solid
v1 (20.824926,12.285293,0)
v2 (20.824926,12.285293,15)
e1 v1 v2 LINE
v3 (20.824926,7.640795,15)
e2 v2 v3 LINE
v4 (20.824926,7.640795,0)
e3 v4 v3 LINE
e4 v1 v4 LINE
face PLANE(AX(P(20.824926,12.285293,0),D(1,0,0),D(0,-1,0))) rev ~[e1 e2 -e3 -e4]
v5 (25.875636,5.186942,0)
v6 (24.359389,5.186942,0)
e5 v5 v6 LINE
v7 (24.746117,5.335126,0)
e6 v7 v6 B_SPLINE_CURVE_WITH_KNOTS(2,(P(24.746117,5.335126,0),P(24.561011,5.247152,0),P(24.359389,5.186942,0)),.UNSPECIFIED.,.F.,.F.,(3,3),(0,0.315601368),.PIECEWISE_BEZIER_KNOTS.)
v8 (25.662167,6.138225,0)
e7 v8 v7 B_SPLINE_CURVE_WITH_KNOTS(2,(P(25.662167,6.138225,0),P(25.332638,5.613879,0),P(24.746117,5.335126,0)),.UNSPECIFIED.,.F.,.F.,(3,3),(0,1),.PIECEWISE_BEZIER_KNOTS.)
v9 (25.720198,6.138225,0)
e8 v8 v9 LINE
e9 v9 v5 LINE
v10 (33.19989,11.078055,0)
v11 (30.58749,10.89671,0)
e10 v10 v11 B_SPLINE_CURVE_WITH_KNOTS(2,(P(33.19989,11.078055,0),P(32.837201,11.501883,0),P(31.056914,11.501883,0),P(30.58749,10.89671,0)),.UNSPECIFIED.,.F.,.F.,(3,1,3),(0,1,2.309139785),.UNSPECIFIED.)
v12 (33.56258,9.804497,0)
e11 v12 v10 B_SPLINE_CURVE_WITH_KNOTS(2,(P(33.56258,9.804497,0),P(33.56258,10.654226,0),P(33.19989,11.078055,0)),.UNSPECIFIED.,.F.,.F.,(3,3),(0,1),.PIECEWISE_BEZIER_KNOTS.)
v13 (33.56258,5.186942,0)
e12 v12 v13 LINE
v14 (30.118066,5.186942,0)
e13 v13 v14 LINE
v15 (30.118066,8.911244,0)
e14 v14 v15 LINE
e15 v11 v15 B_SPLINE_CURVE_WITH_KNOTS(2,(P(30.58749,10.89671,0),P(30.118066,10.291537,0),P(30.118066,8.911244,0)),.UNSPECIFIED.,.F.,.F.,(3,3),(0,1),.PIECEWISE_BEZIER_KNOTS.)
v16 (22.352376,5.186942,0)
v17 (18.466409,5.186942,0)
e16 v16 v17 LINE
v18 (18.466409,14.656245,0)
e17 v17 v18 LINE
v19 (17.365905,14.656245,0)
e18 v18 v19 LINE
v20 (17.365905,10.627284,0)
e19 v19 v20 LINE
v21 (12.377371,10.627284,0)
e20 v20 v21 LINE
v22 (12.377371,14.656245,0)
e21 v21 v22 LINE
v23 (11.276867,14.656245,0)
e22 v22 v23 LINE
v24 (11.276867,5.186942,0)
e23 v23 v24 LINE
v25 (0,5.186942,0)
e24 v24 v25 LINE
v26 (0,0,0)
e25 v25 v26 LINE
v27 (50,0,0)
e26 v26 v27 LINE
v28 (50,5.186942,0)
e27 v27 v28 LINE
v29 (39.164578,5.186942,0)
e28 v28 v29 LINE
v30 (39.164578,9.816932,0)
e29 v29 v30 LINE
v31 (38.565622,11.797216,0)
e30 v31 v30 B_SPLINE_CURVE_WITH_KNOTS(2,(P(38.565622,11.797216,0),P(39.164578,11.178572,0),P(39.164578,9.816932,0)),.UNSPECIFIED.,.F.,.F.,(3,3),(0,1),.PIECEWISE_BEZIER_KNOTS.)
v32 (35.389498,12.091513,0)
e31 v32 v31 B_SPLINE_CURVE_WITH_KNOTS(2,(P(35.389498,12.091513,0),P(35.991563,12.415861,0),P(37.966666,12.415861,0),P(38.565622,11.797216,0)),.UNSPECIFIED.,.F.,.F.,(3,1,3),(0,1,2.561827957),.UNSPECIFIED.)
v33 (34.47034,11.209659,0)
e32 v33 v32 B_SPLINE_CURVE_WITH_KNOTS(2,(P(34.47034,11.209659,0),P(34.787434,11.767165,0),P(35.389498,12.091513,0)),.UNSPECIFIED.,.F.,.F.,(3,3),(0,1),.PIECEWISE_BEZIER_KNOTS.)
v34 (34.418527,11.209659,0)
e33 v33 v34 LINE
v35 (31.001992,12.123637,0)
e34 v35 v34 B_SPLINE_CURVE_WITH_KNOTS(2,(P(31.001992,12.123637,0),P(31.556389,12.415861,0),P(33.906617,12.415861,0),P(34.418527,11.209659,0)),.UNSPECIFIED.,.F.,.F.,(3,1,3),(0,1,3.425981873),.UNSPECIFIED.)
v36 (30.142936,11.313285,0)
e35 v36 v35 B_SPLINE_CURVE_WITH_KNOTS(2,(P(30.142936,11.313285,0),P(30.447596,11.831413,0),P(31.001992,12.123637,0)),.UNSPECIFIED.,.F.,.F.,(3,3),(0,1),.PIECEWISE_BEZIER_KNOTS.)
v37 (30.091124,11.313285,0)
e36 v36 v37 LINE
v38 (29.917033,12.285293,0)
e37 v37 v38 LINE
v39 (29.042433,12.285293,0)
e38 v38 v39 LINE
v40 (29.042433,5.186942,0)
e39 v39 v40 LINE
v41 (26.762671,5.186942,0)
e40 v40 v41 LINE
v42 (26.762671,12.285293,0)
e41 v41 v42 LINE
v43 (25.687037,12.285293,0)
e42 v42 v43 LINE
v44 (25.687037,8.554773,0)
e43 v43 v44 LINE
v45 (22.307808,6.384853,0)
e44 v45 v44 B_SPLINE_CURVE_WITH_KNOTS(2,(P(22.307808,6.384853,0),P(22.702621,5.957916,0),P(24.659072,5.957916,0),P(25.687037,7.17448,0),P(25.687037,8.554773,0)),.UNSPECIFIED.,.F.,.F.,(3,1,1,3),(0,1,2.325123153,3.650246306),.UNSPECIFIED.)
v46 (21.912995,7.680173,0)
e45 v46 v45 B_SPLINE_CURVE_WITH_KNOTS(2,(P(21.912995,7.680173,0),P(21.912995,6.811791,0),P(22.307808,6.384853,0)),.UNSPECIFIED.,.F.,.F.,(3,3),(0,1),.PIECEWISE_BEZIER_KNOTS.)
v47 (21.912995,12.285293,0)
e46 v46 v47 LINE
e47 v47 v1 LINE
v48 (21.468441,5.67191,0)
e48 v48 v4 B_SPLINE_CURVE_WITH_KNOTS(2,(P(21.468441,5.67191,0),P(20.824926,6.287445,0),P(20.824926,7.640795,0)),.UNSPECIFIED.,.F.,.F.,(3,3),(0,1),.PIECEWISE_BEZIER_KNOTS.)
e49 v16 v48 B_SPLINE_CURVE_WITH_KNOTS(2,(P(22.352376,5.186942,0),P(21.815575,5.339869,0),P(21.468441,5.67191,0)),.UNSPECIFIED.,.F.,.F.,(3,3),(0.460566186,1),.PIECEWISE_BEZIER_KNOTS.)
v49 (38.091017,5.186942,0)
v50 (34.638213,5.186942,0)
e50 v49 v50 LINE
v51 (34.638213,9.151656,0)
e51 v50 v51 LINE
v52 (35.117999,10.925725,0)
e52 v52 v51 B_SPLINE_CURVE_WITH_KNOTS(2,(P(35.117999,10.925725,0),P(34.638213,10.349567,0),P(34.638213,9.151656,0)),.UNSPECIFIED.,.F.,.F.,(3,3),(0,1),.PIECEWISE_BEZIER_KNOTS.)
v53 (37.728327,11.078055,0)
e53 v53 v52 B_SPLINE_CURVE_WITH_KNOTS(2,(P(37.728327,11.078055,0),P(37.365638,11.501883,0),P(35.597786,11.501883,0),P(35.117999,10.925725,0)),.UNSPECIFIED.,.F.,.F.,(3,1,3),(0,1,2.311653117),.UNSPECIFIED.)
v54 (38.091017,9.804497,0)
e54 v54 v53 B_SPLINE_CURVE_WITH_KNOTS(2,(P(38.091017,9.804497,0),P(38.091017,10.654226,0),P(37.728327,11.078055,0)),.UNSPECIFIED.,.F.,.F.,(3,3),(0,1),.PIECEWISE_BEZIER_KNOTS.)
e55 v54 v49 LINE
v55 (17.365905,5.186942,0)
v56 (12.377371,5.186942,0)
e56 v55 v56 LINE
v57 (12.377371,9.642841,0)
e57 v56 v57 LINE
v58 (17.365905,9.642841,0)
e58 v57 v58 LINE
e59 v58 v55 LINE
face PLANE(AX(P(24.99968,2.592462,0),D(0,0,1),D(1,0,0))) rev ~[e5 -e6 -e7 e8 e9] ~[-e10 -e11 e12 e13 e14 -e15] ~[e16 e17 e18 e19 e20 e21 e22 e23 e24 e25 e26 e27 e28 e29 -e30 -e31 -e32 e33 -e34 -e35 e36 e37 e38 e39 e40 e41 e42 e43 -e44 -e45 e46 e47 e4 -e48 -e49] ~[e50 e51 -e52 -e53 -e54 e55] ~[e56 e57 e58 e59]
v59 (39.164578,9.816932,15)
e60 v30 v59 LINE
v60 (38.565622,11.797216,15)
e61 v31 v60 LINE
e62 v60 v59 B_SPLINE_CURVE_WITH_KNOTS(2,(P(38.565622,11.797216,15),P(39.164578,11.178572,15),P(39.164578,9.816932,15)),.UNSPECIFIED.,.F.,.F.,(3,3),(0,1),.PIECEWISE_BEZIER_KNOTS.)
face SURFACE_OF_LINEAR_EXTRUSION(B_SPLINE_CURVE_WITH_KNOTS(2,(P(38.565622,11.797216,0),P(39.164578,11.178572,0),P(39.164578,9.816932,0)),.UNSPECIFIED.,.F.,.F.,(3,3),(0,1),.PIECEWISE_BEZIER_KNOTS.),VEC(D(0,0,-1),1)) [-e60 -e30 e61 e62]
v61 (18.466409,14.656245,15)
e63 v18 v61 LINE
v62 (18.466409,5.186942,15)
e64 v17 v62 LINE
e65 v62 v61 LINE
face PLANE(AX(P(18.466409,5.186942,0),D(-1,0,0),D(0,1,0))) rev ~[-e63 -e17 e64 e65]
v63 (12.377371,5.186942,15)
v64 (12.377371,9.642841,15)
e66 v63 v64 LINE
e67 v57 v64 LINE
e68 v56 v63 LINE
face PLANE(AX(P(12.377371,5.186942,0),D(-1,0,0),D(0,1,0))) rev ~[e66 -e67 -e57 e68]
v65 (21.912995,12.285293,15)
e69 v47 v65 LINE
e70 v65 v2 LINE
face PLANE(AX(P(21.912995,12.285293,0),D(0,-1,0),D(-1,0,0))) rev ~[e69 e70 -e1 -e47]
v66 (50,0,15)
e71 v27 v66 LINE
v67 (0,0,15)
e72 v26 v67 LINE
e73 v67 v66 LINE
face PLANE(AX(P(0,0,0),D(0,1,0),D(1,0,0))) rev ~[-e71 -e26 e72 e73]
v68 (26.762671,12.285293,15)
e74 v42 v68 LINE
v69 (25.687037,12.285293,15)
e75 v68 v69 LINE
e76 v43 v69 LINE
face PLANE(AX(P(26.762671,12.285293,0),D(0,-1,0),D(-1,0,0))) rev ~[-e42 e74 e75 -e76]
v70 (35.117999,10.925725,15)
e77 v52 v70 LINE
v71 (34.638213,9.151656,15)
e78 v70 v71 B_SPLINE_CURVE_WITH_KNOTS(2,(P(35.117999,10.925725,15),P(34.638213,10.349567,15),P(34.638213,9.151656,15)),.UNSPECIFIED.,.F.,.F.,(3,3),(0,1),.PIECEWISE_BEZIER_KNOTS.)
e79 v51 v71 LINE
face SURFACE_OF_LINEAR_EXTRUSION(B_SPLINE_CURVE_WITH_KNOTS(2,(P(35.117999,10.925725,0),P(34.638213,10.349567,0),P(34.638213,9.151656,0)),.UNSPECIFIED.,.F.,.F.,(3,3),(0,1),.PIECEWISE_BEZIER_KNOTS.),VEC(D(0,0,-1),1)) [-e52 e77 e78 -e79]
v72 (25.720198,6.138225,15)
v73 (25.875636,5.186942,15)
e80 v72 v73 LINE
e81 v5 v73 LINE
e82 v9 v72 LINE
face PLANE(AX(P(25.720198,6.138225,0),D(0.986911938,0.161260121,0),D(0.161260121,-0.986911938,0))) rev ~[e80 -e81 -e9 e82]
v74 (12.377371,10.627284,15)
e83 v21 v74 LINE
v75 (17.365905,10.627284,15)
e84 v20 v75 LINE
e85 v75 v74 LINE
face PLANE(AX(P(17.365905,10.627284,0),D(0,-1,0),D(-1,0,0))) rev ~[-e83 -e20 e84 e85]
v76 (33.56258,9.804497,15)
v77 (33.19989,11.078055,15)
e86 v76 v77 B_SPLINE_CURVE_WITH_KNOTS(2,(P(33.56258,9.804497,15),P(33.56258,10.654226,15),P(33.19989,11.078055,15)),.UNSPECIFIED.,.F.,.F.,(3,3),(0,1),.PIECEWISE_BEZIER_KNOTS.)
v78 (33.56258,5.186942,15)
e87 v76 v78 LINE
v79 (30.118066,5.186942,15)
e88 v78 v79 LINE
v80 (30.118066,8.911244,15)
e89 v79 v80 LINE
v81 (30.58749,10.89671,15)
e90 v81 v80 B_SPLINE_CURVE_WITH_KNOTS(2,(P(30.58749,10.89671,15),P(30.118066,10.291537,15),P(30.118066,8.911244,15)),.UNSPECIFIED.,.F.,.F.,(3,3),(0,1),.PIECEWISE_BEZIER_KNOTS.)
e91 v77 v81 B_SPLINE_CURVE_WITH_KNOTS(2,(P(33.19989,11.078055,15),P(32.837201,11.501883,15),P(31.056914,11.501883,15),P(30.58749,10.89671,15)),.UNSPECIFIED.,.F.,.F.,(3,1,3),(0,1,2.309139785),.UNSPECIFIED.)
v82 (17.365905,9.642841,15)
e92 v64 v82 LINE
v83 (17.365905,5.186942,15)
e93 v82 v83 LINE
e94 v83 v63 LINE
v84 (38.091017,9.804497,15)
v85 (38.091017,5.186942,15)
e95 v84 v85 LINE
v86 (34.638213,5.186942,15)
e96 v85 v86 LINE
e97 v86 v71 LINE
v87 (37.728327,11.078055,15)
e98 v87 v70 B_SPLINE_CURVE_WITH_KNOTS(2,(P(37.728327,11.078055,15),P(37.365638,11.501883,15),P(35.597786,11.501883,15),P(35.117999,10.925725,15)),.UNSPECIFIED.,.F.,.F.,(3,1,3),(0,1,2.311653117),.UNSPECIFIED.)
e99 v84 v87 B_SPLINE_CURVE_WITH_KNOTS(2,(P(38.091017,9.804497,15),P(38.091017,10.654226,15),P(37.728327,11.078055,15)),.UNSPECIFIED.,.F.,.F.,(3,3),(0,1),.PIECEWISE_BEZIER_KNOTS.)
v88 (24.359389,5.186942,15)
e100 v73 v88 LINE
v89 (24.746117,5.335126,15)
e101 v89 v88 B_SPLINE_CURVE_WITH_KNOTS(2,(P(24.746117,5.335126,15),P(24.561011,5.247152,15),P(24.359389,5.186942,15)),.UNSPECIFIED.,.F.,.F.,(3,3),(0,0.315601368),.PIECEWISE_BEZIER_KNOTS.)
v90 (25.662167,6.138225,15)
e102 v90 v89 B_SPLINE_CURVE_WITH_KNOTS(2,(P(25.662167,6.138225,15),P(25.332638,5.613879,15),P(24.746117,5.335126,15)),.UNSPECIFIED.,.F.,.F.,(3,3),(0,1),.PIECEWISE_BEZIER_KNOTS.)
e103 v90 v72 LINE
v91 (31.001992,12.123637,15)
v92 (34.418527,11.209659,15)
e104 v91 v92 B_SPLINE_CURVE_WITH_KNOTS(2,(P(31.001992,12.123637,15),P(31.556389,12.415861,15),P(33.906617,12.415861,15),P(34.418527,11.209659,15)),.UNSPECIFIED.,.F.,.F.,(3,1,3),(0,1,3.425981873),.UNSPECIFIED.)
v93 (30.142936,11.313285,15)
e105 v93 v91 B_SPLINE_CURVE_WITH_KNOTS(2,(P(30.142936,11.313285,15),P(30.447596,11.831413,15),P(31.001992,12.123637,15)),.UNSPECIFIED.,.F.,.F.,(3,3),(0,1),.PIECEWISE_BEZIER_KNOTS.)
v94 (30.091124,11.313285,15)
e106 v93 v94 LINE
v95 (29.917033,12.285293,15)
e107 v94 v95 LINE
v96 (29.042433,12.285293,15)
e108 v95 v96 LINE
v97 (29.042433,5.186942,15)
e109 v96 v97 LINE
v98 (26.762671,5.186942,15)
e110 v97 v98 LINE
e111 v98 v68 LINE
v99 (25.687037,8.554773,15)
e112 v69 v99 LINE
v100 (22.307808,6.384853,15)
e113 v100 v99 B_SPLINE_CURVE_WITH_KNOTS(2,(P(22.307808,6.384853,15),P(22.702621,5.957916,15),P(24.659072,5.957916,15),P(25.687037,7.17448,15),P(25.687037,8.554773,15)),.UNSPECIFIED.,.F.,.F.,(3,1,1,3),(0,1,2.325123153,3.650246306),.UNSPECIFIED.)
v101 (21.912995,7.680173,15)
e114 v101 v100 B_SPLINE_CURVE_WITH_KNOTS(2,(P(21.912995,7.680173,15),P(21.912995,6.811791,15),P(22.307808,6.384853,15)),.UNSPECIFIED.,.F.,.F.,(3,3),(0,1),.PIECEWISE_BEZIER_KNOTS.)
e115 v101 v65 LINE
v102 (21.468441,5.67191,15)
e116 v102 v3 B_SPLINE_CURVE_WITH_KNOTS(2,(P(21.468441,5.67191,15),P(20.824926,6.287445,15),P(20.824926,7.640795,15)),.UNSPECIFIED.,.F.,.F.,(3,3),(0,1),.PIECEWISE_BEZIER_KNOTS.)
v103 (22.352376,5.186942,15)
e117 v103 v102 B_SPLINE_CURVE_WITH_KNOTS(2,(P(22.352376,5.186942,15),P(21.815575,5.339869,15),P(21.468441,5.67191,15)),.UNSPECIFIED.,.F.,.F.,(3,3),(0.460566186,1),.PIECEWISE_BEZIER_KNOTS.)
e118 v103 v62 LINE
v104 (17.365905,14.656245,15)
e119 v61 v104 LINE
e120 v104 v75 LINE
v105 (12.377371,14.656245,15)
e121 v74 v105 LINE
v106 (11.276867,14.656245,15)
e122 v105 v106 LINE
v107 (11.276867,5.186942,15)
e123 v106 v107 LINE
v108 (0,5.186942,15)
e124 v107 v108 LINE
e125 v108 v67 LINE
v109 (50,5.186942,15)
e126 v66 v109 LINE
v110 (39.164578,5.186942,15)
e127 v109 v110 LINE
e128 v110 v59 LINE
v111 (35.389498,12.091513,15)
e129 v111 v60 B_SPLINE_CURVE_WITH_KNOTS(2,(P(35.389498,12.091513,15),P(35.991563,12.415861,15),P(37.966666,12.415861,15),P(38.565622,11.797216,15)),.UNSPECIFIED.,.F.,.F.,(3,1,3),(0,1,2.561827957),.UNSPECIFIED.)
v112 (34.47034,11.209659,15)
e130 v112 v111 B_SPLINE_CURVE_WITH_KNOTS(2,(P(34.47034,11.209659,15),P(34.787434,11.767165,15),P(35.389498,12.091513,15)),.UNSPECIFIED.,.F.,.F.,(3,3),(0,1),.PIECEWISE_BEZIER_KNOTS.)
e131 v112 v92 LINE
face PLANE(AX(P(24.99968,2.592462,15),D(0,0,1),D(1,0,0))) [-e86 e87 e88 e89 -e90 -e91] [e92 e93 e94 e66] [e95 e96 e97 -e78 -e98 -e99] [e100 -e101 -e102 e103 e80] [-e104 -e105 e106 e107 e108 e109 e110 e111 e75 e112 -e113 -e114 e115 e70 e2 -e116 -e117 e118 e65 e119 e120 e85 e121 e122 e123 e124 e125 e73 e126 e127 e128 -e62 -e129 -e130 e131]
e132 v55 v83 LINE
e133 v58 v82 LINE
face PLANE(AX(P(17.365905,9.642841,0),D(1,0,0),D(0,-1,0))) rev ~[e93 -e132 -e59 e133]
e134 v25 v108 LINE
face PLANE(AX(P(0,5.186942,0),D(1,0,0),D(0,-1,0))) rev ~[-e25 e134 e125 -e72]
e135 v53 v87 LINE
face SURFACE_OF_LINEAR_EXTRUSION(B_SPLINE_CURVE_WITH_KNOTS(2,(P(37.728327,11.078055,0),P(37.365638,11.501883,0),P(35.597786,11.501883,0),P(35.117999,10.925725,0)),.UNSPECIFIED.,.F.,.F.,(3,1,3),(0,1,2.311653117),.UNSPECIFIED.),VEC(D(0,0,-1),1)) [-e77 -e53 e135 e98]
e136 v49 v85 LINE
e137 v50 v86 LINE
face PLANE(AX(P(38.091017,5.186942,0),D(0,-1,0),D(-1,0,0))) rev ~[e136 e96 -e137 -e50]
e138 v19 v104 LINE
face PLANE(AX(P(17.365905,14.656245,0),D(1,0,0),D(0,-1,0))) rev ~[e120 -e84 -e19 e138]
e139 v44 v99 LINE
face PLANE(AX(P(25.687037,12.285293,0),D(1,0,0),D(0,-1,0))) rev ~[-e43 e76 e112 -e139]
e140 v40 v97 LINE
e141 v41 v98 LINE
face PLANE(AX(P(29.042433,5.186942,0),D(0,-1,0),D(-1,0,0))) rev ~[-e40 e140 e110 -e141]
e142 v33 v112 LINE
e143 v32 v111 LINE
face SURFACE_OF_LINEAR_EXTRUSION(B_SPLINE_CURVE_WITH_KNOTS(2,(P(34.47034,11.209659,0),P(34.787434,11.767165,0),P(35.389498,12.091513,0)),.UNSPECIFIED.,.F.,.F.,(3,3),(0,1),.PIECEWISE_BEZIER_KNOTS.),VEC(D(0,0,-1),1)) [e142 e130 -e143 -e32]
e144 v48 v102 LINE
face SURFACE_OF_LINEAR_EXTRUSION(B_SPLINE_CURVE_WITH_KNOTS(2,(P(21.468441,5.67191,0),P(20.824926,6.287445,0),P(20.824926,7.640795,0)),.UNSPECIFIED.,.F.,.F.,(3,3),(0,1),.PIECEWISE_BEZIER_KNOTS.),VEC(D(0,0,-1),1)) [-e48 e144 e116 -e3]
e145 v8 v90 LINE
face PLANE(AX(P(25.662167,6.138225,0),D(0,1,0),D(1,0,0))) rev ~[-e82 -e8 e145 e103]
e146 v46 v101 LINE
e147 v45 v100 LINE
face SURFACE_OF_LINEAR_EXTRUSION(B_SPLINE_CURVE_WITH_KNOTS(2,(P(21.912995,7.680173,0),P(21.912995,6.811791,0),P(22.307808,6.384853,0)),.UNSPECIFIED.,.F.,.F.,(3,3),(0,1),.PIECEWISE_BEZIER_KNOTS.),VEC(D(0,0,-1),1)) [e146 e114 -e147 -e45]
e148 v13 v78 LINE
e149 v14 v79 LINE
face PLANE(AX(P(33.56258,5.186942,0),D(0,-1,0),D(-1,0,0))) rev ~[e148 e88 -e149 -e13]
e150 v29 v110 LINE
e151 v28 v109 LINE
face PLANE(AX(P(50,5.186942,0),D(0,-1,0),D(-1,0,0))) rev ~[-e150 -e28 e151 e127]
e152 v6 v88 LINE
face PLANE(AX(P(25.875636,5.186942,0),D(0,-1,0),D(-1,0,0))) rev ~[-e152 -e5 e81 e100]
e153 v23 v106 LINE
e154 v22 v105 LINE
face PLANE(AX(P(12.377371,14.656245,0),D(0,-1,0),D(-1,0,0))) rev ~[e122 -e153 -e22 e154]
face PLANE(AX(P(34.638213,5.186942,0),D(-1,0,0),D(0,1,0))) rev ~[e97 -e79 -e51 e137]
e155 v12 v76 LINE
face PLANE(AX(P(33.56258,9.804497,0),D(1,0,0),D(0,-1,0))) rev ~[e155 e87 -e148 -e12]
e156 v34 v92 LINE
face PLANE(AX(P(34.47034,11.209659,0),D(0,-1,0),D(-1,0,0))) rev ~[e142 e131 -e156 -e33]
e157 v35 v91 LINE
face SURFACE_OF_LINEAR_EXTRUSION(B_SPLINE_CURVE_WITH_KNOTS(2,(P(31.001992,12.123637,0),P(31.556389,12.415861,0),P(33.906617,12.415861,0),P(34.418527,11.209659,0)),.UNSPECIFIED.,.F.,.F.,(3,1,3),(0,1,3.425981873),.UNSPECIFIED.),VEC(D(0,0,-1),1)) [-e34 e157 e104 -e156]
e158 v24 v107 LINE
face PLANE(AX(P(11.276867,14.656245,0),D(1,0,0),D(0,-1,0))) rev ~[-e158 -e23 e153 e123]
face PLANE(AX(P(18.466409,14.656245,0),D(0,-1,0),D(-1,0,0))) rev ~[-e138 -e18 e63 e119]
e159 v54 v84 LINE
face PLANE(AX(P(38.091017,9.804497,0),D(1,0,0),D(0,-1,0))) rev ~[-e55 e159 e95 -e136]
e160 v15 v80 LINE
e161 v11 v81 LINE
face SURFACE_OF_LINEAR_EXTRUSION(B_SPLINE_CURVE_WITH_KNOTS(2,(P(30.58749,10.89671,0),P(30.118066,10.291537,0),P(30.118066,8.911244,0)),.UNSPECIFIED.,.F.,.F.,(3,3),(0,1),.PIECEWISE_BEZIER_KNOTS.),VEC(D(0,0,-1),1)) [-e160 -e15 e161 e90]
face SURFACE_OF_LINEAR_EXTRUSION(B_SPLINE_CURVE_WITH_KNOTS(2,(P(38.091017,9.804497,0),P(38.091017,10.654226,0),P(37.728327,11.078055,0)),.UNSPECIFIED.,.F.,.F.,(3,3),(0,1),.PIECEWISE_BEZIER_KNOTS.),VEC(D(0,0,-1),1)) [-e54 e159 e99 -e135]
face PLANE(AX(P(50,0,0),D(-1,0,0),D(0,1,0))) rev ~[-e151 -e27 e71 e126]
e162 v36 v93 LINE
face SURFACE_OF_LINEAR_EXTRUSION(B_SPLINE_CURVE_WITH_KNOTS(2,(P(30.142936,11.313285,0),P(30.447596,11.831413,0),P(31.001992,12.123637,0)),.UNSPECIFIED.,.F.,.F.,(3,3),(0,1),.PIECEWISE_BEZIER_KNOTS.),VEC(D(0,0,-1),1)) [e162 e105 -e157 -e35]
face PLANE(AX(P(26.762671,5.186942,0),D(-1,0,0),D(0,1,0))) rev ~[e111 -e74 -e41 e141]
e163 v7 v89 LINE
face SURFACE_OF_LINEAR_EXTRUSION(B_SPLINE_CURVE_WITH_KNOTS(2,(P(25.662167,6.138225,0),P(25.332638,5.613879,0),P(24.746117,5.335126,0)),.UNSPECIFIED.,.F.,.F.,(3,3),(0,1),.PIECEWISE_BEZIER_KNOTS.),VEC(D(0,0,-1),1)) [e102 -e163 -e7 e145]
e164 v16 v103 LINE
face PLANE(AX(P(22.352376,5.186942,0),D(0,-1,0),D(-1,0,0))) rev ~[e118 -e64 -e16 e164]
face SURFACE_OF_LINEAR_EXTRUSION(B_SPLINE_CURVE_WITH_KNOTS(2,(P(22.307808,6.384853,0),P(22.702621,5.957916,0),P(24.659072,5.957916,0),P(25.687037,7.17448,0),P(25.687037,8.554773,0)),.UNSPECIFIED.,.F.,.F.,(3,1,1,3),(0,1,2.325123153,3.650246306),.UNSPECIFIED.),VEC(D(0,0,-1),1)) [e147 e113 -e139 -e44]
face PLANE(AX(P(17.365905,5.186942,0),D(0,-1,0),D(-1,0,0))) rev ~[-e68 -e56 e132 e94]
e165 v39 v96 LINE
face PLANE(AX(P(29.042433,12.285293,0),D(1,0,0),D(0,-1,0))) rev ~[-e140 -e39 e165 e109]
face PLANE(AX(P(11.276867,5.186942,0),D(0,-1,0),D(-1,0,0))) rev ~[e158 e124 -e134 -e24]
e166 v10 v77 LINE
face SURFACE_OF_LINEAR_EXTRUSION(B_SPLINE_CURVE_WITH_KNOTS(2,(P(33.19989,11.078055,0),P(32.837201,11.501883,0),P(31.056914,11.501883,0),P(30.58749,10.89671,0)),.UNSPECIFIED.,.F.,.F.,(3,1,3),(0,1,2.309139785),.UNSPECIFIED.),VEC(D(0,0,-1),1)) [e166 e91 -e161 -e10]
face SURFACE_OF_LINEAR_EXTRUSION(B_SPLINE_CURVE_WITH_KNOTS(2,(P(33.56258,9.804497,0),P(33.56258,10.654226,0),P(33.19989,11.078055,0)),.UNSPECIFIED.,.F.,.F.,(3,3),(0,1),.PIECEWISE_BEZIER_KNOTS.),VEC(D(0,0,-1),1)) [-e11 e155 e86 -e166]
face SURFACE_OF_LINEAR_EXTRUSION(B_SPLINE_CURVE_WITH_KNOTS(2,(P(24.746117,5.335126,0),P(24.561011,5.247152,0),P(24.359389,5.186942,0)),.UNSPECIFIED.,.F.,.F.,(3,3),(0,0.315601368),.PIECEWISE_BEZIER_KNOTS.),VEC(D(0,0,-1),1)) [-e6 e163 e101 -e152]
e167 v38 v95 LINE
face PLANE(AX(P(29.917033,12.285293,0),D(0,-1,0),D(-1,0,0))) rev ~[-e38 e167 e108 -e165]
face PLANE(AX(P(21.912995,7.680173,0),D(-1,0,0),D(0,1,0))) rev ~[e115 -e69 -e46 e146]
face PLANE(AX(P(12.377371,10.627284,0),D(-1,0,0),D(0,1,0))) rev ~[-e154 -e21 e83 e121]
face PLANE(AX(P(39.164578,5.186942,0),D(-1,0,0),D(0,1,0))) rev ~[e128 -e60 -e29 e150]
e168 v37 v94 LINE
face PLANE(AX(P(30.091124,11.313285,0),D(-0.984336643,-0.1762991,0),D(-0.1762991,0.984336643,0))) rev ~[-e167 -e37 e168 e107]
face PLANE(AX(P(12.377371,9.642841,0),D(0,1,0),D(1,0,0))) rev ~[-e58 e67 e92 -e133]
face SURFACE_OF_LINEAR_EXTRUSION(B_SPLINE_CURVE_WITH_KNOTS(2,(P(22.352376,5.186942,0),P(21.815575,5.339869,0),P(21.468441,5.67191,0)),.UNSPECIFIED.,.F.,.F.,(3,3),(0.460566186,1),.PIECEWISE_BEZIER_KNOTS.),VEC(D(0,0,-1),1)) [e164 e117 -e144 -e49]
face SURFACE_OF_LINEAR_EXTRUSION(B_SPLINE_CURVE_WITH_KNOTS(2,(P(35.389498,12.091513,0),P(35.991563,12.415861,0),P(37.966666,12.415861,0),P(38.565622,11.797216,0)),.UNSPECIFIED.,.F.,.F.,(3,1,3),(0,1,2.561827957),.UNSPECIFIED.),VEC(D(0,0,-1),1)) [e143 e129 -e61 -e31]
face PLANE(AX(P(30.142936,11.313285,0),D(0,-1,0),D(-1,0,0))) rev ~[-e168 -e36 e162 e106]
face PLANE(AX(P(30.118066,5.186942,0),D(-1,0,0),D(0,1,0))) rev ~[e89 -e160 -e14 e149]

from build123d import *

# Parameters (mm, degrees)
F1_DEPTH = 15


with BuildPart() as f1:
    # F0 (on Top) → F1 (new body)
    with BuildSketch(Plane.XY):
        with BuildLine():
            Line((0, 5.1869419025), (0, 0))
            Line((0, 0), (50, 0))
            Line((50, 0), (50, 5.1869419025))
            Line((50, 5.1869419025), (39.1645775294, 5.1869419025))
            Line((39.1645775294, 5.1869419025), (38.091016748, 5.1869419025))
            Line((38.091016748, 5.1869419025), (34.6382131539, 5.1869419025))
            Line((34.6382131539, 5.1869419025), (33.5625798614, 5.1869419025))
            Line((33.5625798614, 5.1869419025), (30.1180663119, 5.1869419025))
            Line((30.1180663119, 5.1869419025), (29.0424330194, 5.1869419025))
            Line((29.0424330194, 5.1869419025), (26.7626707424, 5.1869419025))
            Line((26.7626707424, 5.1869419025), (25.8756359655, 5.1869419025))
            Line((25.8756359655, 5.1869419025), (24.3593894687, 5.1869419025))
            add(Edge.make_bspline(
                [(24.3593894687, 5.1869419025), (23.9221630132, 5.0563736994), (23.4072751728, 5.0563736994)],
                knots=[0.3156013684, 0.3156013684, 0.3156013684, 1, 1, 1], degree=2))
            add(Edge.make_bspline(
                [(23.4072751728, 5.0563736994), (22.8106948217, 5.0563736994), (22.3523760863, 5.1869419025)],
                knots=[0, 0, 0, 0.4605661865, 0.4605661865, 0.4605661865], degree=2))
            Line((22.3523760863, 5.1869419025), (18.4664085652, 5.1869419025))
            Line((18.4664085652, 5.1869419025), (17.3659051387, 5.1869419025))
            Line((17.3659051387, 5.1869419025), (12.3773707744, 5.1869419025))
            Line((12.3773707744, 5.1869419025), (11.2768673479, 5.1869419025))
            Line((11.2768673479, 5.1869419025), (0, 5.1869419025))
        make_face()
        Polygon((11.2768673479, 14.6562453968), (11.2768673479, 5.1869419025), (12.3773707744, 5.1869419025), (12.3773707744, 9.6428408985), (17.3659051387, 9.6428408985), (17.3659051387, 5.1869419025), (18.4664085652, 5.1869419025), (18.4664085652, 14.6562453968), (17.3659051387, 14.6562453968), (17.3659051387, 10.6272837), (12.3773707744, 10.6272837), (12.3773707744, 14.6562453968), align=None)
        with BuildLine():
            Line((38.091016748, 5.1869419025), (39.1645775294, 5.1869419025))
            Line((39.1645775294, 5.1869419025), (39.1645775294, 9.816931836))
            add(Edge.make_bspline(
                [(38.5656218039, 11.7972162503), (39.1645775294, 11.1785716688), (39.1645775294, 9.816931836)],
                knots=[0, 0, 0, 1, 1, 1], degree=2))
            add(Edge.make_bspline(
                [(36.7625370938, 12.4158608318), (37.9666660783, 12.4158608318), (38.5656218039, 11.7972162503)],
                knots=[0, 0, 0, 1, 1, 1], degree=2))
            add(Edge.make_bspline(
                [(35.3894984497, 12.0915128351), (35.991562942, 12.4158608318), (36.7625370938, 12.4158608318)],
                knots=[0, 0, 0, 1, 1, 1], degree=2))
            add(Edge.make_bspline(
                [(34.4703397499, 11.2096593362), (34.7874339575, 11.7671648385), (35.3894984497, 12.0915128351)],
                knots=[0, 0, 0, 1, 1, 1], degree=2))
            Line((34.4703397499, 11.2096593362), (34.4185269708, 11.2096593362))
            add(Edge.make_bspline(
                [(32.2423902519, 12.4158608318), (33.9066167141, 12.4158608318), (34.4185269708, 11.2096593362)],
                knots=[0, 0, 0, 1, 1, 1], degree=2))
            add(Edge.make_bspline(
                [(31.001992322, 12.1236367581), (31.5563890576, 12.4158608318), (32.2423902519, 12.4158608318)],
                knots=[0, 0, 0, 1, 1, 1], degree=2))
            add(Edge.make_bspline(
                [(30.1429364458, 11.3132848942), (30.4475955865, 11.8314126845), (31.001992322, 12.1236367581)],
                knots=[0, 0, 0, 1, 1, 1], degree=2))
            Line((30.1429364458, 11.3132848942), (30.0911236668, 11.3132848942))
            Line((30.0911236668, 11.3132848942), (29.9170327293, 12.2852926287))
            Line((29.9170327293, 12.2852926287), (29.0424330194, 12.2852926287))
            Line((29.0424330194, 12.2852926287), (29.0424330194, 5.1869419025))
            Line((29.0424330194, 5.1869419025), (30.1180663119, 5.1869419025))
            Line((30.1180663119, 5.1869419025), (30.1180663119, 8.9112444587))
            add(Edge.make_bspline(
                [(30.5874900899, 10.8967101509), (30.1180663119, 10.2915368919), (30.1180663119, 8.9112444587)],
                knots=[0, 0, 0, 1, 1, 1], degree=2))
            add(Edge.make_bspline(
                [(32.0662268032, 11.5018834099), (31.0569138678, 11.5018834099), (30.5874900899, 10.8967101509)],
                knots=[0, 0, 0, 1, 1, 1], degree=2))
            add(Edge.make_bspline(
                [(33.1998904082, 11.0780548775), (32.837200955, 11.5018834099), (32.0662268032, 11.5018834099)],
                knots=[0, 0, 0, 1, 1, 1], degree=2))
            add(Edge.make_bspline(
                [(33.5625798614, 9.8044967691), (33.5625798614, 10.654226345), (33.1998904082, 11.0780548775)],
                knots=[0, 0, 0, 1, 1, 1], degree=2))
            Line((33.5625798614, 9.8044967691), (33.5625798614, 5.1869419025))
            Line((33.5625798614, 5.1869419025), (34.6382131539, 5.1869419025))
            Line((34.6382131539, 5.1869419025), (34.6382131539, 9.1516557534))
            add(Edge.make_bspline(
                [(35.1179994877, 10.9257253071), (34.6382131539, 10.3495672044), (34.6382131539, 9.1516557534)],
                knots=[0, 0, 0, 1, 1, 1], degree=2))
            add(Edge.make_bspline(
                [(36.6008812233, 11.5018834099), (35.5977858214, 11.5018834099), (35.1179994877, 10.9257253071)],
                knots=[0, 0, 0, 1, 1, 1], degree=2))
            add(Edge.make_bspline(
                [(37.7283272948, 11.0780548775), (37.3656378417, 11.5018834099), (36.6008812233, 11.5018834099)],
                knots=[0, 0, 0, 1, 1, 1], degree=2))
            add(Edge.make_bspline(
                [(38.091016748, 9.8044967691), (38.091016748, 10.654226345), (37.7283272948, 11.0780548775)],
                knots=[0, 0, 0, 1, 1, 1], degree=2))
            Line((38.091016748, 9.8044967691), (38.091016748, 5.1869419025))
        make_face()
        with BuildLine():
            add(Edge.make_bspline(
                [(22.3523760863, 5.1869419025), (21.8155745788, 5.3398686822), (21.4684409818, 5.6719095142)],
                knots=[0.4605661865, 0.4605661865, 0.4605661865, 1, 1, 1], degree=2))
            Line((22.3523760863, 5.1869419025), (24.3593894687, 5.1869419025))
            add(Edge.make_bspline(
                [(24.7461173828, 5.3351264505), (24.5610106604, 5.2471517008), (24.3593894687, 5.1869419025)],
                knots=[0, 0, 0, 0.3156013684, 0.3156013684, 0.3156013684], degree=2))
            add(Edge.make_bspline(
                [(25.6621673159, 6.1382245254), (25.3326380413, 5.6138792017), (24.7461173828, 5.3351264505)],
                knots=[0, 0, 0, 1, 1, 1], degree=2))
            Line((25.6621673159, 6.1382245254), (25.7201976284, 6.1382245254))
            Line((25.7201976284, 6.1382245254), (25.8756359655, 5.1869419025))
            Line((25.8756359655, 5.1869419025), (26.7626707424, 5.1869419025))
            Line((26.7626707424, 5.1869419025), (26.7626707424, 12.2852926287))
            Line((26.7626707424, 12.2852926287), (25.6870374498, 12.2852926287))
            Line((25.6870374498, 12.2852926287), (25.6870374498, 8.554772539))
            add(Edge.make_bspline(
                [(25.1730546819, 6.5661980801), (25.6870374498, 7.1744801058), (25.6870374498, 8.554772539)],
                knots=[0, 0, 0, 1, 1, 1], degree=2))
            add(Edge.make_bspline(
                [(23.5440609094, 5.9579160544), (24.659071914, 5.9579160544), (25.1730546819, 6.5661980801)],
                knots=[0, 0, 0, 1, 1, 1], degree=2))
            add(Edge.make_bspline(
                [(22.307808002, 6.3848533535), (22.7026213781, 5.9579160544), (23.5440609094, 5.9579160544)],
                knots=[0, 0, 0, 1, 1, 1], degree=2))
            add(Edge.make_bspline(
                [(21.9129946258, 7.6801728291), (21.9129946258, 6.8117906527), (22.307808002, 6.3848533535)],
                knots=[0, 0, 0, 1, 1, 1], degree=2))
            Line((21.9129946258, 7.6801728291), (21.9129946258, 12.2852926287))
            Line((21.9129946258, 12.2852926287), (20.8249262663, 12.2852926287))
            Line((20.8249262663, 12.2852926287), (20.8249262663, 7.6407951171))
            add(Edge.make_bspline(
                [(21.4684409818, 5.6719095142), (20.8249262663, 6.287445329), (20.8249262663, 7.6407951171)],
                knots=[0, 0, 0, 1, 1, 1], degree=2))
        make_face()
        with BuildLine():
            Line((24.3593894687, 5.1869419025), (22.3523760863, 5.1869419025))
            add(Edge.make_bspline(
                [(23.4072751728, 5.0563736994), (22.8106948217, 5.0563736994), (22.3523760863, 5.1869419025)],
                knots=[0, 0, 0, 0.4605661865, 0.4605661865, 0.4605661865], degree=2))
            add(Edge.make_bspline(
                [(24.3593894687, 5.1869419025), (23.9221630132, 5.0563736994), (23.4072751728, 5.0563736994)],
                knots=[0.3156013684, 0.3156013684, 0.3156013684, 1, 1, 1], degree=2))
        make_face()
    extrude(amount=F1_DEPTH)


solid = f1.part
